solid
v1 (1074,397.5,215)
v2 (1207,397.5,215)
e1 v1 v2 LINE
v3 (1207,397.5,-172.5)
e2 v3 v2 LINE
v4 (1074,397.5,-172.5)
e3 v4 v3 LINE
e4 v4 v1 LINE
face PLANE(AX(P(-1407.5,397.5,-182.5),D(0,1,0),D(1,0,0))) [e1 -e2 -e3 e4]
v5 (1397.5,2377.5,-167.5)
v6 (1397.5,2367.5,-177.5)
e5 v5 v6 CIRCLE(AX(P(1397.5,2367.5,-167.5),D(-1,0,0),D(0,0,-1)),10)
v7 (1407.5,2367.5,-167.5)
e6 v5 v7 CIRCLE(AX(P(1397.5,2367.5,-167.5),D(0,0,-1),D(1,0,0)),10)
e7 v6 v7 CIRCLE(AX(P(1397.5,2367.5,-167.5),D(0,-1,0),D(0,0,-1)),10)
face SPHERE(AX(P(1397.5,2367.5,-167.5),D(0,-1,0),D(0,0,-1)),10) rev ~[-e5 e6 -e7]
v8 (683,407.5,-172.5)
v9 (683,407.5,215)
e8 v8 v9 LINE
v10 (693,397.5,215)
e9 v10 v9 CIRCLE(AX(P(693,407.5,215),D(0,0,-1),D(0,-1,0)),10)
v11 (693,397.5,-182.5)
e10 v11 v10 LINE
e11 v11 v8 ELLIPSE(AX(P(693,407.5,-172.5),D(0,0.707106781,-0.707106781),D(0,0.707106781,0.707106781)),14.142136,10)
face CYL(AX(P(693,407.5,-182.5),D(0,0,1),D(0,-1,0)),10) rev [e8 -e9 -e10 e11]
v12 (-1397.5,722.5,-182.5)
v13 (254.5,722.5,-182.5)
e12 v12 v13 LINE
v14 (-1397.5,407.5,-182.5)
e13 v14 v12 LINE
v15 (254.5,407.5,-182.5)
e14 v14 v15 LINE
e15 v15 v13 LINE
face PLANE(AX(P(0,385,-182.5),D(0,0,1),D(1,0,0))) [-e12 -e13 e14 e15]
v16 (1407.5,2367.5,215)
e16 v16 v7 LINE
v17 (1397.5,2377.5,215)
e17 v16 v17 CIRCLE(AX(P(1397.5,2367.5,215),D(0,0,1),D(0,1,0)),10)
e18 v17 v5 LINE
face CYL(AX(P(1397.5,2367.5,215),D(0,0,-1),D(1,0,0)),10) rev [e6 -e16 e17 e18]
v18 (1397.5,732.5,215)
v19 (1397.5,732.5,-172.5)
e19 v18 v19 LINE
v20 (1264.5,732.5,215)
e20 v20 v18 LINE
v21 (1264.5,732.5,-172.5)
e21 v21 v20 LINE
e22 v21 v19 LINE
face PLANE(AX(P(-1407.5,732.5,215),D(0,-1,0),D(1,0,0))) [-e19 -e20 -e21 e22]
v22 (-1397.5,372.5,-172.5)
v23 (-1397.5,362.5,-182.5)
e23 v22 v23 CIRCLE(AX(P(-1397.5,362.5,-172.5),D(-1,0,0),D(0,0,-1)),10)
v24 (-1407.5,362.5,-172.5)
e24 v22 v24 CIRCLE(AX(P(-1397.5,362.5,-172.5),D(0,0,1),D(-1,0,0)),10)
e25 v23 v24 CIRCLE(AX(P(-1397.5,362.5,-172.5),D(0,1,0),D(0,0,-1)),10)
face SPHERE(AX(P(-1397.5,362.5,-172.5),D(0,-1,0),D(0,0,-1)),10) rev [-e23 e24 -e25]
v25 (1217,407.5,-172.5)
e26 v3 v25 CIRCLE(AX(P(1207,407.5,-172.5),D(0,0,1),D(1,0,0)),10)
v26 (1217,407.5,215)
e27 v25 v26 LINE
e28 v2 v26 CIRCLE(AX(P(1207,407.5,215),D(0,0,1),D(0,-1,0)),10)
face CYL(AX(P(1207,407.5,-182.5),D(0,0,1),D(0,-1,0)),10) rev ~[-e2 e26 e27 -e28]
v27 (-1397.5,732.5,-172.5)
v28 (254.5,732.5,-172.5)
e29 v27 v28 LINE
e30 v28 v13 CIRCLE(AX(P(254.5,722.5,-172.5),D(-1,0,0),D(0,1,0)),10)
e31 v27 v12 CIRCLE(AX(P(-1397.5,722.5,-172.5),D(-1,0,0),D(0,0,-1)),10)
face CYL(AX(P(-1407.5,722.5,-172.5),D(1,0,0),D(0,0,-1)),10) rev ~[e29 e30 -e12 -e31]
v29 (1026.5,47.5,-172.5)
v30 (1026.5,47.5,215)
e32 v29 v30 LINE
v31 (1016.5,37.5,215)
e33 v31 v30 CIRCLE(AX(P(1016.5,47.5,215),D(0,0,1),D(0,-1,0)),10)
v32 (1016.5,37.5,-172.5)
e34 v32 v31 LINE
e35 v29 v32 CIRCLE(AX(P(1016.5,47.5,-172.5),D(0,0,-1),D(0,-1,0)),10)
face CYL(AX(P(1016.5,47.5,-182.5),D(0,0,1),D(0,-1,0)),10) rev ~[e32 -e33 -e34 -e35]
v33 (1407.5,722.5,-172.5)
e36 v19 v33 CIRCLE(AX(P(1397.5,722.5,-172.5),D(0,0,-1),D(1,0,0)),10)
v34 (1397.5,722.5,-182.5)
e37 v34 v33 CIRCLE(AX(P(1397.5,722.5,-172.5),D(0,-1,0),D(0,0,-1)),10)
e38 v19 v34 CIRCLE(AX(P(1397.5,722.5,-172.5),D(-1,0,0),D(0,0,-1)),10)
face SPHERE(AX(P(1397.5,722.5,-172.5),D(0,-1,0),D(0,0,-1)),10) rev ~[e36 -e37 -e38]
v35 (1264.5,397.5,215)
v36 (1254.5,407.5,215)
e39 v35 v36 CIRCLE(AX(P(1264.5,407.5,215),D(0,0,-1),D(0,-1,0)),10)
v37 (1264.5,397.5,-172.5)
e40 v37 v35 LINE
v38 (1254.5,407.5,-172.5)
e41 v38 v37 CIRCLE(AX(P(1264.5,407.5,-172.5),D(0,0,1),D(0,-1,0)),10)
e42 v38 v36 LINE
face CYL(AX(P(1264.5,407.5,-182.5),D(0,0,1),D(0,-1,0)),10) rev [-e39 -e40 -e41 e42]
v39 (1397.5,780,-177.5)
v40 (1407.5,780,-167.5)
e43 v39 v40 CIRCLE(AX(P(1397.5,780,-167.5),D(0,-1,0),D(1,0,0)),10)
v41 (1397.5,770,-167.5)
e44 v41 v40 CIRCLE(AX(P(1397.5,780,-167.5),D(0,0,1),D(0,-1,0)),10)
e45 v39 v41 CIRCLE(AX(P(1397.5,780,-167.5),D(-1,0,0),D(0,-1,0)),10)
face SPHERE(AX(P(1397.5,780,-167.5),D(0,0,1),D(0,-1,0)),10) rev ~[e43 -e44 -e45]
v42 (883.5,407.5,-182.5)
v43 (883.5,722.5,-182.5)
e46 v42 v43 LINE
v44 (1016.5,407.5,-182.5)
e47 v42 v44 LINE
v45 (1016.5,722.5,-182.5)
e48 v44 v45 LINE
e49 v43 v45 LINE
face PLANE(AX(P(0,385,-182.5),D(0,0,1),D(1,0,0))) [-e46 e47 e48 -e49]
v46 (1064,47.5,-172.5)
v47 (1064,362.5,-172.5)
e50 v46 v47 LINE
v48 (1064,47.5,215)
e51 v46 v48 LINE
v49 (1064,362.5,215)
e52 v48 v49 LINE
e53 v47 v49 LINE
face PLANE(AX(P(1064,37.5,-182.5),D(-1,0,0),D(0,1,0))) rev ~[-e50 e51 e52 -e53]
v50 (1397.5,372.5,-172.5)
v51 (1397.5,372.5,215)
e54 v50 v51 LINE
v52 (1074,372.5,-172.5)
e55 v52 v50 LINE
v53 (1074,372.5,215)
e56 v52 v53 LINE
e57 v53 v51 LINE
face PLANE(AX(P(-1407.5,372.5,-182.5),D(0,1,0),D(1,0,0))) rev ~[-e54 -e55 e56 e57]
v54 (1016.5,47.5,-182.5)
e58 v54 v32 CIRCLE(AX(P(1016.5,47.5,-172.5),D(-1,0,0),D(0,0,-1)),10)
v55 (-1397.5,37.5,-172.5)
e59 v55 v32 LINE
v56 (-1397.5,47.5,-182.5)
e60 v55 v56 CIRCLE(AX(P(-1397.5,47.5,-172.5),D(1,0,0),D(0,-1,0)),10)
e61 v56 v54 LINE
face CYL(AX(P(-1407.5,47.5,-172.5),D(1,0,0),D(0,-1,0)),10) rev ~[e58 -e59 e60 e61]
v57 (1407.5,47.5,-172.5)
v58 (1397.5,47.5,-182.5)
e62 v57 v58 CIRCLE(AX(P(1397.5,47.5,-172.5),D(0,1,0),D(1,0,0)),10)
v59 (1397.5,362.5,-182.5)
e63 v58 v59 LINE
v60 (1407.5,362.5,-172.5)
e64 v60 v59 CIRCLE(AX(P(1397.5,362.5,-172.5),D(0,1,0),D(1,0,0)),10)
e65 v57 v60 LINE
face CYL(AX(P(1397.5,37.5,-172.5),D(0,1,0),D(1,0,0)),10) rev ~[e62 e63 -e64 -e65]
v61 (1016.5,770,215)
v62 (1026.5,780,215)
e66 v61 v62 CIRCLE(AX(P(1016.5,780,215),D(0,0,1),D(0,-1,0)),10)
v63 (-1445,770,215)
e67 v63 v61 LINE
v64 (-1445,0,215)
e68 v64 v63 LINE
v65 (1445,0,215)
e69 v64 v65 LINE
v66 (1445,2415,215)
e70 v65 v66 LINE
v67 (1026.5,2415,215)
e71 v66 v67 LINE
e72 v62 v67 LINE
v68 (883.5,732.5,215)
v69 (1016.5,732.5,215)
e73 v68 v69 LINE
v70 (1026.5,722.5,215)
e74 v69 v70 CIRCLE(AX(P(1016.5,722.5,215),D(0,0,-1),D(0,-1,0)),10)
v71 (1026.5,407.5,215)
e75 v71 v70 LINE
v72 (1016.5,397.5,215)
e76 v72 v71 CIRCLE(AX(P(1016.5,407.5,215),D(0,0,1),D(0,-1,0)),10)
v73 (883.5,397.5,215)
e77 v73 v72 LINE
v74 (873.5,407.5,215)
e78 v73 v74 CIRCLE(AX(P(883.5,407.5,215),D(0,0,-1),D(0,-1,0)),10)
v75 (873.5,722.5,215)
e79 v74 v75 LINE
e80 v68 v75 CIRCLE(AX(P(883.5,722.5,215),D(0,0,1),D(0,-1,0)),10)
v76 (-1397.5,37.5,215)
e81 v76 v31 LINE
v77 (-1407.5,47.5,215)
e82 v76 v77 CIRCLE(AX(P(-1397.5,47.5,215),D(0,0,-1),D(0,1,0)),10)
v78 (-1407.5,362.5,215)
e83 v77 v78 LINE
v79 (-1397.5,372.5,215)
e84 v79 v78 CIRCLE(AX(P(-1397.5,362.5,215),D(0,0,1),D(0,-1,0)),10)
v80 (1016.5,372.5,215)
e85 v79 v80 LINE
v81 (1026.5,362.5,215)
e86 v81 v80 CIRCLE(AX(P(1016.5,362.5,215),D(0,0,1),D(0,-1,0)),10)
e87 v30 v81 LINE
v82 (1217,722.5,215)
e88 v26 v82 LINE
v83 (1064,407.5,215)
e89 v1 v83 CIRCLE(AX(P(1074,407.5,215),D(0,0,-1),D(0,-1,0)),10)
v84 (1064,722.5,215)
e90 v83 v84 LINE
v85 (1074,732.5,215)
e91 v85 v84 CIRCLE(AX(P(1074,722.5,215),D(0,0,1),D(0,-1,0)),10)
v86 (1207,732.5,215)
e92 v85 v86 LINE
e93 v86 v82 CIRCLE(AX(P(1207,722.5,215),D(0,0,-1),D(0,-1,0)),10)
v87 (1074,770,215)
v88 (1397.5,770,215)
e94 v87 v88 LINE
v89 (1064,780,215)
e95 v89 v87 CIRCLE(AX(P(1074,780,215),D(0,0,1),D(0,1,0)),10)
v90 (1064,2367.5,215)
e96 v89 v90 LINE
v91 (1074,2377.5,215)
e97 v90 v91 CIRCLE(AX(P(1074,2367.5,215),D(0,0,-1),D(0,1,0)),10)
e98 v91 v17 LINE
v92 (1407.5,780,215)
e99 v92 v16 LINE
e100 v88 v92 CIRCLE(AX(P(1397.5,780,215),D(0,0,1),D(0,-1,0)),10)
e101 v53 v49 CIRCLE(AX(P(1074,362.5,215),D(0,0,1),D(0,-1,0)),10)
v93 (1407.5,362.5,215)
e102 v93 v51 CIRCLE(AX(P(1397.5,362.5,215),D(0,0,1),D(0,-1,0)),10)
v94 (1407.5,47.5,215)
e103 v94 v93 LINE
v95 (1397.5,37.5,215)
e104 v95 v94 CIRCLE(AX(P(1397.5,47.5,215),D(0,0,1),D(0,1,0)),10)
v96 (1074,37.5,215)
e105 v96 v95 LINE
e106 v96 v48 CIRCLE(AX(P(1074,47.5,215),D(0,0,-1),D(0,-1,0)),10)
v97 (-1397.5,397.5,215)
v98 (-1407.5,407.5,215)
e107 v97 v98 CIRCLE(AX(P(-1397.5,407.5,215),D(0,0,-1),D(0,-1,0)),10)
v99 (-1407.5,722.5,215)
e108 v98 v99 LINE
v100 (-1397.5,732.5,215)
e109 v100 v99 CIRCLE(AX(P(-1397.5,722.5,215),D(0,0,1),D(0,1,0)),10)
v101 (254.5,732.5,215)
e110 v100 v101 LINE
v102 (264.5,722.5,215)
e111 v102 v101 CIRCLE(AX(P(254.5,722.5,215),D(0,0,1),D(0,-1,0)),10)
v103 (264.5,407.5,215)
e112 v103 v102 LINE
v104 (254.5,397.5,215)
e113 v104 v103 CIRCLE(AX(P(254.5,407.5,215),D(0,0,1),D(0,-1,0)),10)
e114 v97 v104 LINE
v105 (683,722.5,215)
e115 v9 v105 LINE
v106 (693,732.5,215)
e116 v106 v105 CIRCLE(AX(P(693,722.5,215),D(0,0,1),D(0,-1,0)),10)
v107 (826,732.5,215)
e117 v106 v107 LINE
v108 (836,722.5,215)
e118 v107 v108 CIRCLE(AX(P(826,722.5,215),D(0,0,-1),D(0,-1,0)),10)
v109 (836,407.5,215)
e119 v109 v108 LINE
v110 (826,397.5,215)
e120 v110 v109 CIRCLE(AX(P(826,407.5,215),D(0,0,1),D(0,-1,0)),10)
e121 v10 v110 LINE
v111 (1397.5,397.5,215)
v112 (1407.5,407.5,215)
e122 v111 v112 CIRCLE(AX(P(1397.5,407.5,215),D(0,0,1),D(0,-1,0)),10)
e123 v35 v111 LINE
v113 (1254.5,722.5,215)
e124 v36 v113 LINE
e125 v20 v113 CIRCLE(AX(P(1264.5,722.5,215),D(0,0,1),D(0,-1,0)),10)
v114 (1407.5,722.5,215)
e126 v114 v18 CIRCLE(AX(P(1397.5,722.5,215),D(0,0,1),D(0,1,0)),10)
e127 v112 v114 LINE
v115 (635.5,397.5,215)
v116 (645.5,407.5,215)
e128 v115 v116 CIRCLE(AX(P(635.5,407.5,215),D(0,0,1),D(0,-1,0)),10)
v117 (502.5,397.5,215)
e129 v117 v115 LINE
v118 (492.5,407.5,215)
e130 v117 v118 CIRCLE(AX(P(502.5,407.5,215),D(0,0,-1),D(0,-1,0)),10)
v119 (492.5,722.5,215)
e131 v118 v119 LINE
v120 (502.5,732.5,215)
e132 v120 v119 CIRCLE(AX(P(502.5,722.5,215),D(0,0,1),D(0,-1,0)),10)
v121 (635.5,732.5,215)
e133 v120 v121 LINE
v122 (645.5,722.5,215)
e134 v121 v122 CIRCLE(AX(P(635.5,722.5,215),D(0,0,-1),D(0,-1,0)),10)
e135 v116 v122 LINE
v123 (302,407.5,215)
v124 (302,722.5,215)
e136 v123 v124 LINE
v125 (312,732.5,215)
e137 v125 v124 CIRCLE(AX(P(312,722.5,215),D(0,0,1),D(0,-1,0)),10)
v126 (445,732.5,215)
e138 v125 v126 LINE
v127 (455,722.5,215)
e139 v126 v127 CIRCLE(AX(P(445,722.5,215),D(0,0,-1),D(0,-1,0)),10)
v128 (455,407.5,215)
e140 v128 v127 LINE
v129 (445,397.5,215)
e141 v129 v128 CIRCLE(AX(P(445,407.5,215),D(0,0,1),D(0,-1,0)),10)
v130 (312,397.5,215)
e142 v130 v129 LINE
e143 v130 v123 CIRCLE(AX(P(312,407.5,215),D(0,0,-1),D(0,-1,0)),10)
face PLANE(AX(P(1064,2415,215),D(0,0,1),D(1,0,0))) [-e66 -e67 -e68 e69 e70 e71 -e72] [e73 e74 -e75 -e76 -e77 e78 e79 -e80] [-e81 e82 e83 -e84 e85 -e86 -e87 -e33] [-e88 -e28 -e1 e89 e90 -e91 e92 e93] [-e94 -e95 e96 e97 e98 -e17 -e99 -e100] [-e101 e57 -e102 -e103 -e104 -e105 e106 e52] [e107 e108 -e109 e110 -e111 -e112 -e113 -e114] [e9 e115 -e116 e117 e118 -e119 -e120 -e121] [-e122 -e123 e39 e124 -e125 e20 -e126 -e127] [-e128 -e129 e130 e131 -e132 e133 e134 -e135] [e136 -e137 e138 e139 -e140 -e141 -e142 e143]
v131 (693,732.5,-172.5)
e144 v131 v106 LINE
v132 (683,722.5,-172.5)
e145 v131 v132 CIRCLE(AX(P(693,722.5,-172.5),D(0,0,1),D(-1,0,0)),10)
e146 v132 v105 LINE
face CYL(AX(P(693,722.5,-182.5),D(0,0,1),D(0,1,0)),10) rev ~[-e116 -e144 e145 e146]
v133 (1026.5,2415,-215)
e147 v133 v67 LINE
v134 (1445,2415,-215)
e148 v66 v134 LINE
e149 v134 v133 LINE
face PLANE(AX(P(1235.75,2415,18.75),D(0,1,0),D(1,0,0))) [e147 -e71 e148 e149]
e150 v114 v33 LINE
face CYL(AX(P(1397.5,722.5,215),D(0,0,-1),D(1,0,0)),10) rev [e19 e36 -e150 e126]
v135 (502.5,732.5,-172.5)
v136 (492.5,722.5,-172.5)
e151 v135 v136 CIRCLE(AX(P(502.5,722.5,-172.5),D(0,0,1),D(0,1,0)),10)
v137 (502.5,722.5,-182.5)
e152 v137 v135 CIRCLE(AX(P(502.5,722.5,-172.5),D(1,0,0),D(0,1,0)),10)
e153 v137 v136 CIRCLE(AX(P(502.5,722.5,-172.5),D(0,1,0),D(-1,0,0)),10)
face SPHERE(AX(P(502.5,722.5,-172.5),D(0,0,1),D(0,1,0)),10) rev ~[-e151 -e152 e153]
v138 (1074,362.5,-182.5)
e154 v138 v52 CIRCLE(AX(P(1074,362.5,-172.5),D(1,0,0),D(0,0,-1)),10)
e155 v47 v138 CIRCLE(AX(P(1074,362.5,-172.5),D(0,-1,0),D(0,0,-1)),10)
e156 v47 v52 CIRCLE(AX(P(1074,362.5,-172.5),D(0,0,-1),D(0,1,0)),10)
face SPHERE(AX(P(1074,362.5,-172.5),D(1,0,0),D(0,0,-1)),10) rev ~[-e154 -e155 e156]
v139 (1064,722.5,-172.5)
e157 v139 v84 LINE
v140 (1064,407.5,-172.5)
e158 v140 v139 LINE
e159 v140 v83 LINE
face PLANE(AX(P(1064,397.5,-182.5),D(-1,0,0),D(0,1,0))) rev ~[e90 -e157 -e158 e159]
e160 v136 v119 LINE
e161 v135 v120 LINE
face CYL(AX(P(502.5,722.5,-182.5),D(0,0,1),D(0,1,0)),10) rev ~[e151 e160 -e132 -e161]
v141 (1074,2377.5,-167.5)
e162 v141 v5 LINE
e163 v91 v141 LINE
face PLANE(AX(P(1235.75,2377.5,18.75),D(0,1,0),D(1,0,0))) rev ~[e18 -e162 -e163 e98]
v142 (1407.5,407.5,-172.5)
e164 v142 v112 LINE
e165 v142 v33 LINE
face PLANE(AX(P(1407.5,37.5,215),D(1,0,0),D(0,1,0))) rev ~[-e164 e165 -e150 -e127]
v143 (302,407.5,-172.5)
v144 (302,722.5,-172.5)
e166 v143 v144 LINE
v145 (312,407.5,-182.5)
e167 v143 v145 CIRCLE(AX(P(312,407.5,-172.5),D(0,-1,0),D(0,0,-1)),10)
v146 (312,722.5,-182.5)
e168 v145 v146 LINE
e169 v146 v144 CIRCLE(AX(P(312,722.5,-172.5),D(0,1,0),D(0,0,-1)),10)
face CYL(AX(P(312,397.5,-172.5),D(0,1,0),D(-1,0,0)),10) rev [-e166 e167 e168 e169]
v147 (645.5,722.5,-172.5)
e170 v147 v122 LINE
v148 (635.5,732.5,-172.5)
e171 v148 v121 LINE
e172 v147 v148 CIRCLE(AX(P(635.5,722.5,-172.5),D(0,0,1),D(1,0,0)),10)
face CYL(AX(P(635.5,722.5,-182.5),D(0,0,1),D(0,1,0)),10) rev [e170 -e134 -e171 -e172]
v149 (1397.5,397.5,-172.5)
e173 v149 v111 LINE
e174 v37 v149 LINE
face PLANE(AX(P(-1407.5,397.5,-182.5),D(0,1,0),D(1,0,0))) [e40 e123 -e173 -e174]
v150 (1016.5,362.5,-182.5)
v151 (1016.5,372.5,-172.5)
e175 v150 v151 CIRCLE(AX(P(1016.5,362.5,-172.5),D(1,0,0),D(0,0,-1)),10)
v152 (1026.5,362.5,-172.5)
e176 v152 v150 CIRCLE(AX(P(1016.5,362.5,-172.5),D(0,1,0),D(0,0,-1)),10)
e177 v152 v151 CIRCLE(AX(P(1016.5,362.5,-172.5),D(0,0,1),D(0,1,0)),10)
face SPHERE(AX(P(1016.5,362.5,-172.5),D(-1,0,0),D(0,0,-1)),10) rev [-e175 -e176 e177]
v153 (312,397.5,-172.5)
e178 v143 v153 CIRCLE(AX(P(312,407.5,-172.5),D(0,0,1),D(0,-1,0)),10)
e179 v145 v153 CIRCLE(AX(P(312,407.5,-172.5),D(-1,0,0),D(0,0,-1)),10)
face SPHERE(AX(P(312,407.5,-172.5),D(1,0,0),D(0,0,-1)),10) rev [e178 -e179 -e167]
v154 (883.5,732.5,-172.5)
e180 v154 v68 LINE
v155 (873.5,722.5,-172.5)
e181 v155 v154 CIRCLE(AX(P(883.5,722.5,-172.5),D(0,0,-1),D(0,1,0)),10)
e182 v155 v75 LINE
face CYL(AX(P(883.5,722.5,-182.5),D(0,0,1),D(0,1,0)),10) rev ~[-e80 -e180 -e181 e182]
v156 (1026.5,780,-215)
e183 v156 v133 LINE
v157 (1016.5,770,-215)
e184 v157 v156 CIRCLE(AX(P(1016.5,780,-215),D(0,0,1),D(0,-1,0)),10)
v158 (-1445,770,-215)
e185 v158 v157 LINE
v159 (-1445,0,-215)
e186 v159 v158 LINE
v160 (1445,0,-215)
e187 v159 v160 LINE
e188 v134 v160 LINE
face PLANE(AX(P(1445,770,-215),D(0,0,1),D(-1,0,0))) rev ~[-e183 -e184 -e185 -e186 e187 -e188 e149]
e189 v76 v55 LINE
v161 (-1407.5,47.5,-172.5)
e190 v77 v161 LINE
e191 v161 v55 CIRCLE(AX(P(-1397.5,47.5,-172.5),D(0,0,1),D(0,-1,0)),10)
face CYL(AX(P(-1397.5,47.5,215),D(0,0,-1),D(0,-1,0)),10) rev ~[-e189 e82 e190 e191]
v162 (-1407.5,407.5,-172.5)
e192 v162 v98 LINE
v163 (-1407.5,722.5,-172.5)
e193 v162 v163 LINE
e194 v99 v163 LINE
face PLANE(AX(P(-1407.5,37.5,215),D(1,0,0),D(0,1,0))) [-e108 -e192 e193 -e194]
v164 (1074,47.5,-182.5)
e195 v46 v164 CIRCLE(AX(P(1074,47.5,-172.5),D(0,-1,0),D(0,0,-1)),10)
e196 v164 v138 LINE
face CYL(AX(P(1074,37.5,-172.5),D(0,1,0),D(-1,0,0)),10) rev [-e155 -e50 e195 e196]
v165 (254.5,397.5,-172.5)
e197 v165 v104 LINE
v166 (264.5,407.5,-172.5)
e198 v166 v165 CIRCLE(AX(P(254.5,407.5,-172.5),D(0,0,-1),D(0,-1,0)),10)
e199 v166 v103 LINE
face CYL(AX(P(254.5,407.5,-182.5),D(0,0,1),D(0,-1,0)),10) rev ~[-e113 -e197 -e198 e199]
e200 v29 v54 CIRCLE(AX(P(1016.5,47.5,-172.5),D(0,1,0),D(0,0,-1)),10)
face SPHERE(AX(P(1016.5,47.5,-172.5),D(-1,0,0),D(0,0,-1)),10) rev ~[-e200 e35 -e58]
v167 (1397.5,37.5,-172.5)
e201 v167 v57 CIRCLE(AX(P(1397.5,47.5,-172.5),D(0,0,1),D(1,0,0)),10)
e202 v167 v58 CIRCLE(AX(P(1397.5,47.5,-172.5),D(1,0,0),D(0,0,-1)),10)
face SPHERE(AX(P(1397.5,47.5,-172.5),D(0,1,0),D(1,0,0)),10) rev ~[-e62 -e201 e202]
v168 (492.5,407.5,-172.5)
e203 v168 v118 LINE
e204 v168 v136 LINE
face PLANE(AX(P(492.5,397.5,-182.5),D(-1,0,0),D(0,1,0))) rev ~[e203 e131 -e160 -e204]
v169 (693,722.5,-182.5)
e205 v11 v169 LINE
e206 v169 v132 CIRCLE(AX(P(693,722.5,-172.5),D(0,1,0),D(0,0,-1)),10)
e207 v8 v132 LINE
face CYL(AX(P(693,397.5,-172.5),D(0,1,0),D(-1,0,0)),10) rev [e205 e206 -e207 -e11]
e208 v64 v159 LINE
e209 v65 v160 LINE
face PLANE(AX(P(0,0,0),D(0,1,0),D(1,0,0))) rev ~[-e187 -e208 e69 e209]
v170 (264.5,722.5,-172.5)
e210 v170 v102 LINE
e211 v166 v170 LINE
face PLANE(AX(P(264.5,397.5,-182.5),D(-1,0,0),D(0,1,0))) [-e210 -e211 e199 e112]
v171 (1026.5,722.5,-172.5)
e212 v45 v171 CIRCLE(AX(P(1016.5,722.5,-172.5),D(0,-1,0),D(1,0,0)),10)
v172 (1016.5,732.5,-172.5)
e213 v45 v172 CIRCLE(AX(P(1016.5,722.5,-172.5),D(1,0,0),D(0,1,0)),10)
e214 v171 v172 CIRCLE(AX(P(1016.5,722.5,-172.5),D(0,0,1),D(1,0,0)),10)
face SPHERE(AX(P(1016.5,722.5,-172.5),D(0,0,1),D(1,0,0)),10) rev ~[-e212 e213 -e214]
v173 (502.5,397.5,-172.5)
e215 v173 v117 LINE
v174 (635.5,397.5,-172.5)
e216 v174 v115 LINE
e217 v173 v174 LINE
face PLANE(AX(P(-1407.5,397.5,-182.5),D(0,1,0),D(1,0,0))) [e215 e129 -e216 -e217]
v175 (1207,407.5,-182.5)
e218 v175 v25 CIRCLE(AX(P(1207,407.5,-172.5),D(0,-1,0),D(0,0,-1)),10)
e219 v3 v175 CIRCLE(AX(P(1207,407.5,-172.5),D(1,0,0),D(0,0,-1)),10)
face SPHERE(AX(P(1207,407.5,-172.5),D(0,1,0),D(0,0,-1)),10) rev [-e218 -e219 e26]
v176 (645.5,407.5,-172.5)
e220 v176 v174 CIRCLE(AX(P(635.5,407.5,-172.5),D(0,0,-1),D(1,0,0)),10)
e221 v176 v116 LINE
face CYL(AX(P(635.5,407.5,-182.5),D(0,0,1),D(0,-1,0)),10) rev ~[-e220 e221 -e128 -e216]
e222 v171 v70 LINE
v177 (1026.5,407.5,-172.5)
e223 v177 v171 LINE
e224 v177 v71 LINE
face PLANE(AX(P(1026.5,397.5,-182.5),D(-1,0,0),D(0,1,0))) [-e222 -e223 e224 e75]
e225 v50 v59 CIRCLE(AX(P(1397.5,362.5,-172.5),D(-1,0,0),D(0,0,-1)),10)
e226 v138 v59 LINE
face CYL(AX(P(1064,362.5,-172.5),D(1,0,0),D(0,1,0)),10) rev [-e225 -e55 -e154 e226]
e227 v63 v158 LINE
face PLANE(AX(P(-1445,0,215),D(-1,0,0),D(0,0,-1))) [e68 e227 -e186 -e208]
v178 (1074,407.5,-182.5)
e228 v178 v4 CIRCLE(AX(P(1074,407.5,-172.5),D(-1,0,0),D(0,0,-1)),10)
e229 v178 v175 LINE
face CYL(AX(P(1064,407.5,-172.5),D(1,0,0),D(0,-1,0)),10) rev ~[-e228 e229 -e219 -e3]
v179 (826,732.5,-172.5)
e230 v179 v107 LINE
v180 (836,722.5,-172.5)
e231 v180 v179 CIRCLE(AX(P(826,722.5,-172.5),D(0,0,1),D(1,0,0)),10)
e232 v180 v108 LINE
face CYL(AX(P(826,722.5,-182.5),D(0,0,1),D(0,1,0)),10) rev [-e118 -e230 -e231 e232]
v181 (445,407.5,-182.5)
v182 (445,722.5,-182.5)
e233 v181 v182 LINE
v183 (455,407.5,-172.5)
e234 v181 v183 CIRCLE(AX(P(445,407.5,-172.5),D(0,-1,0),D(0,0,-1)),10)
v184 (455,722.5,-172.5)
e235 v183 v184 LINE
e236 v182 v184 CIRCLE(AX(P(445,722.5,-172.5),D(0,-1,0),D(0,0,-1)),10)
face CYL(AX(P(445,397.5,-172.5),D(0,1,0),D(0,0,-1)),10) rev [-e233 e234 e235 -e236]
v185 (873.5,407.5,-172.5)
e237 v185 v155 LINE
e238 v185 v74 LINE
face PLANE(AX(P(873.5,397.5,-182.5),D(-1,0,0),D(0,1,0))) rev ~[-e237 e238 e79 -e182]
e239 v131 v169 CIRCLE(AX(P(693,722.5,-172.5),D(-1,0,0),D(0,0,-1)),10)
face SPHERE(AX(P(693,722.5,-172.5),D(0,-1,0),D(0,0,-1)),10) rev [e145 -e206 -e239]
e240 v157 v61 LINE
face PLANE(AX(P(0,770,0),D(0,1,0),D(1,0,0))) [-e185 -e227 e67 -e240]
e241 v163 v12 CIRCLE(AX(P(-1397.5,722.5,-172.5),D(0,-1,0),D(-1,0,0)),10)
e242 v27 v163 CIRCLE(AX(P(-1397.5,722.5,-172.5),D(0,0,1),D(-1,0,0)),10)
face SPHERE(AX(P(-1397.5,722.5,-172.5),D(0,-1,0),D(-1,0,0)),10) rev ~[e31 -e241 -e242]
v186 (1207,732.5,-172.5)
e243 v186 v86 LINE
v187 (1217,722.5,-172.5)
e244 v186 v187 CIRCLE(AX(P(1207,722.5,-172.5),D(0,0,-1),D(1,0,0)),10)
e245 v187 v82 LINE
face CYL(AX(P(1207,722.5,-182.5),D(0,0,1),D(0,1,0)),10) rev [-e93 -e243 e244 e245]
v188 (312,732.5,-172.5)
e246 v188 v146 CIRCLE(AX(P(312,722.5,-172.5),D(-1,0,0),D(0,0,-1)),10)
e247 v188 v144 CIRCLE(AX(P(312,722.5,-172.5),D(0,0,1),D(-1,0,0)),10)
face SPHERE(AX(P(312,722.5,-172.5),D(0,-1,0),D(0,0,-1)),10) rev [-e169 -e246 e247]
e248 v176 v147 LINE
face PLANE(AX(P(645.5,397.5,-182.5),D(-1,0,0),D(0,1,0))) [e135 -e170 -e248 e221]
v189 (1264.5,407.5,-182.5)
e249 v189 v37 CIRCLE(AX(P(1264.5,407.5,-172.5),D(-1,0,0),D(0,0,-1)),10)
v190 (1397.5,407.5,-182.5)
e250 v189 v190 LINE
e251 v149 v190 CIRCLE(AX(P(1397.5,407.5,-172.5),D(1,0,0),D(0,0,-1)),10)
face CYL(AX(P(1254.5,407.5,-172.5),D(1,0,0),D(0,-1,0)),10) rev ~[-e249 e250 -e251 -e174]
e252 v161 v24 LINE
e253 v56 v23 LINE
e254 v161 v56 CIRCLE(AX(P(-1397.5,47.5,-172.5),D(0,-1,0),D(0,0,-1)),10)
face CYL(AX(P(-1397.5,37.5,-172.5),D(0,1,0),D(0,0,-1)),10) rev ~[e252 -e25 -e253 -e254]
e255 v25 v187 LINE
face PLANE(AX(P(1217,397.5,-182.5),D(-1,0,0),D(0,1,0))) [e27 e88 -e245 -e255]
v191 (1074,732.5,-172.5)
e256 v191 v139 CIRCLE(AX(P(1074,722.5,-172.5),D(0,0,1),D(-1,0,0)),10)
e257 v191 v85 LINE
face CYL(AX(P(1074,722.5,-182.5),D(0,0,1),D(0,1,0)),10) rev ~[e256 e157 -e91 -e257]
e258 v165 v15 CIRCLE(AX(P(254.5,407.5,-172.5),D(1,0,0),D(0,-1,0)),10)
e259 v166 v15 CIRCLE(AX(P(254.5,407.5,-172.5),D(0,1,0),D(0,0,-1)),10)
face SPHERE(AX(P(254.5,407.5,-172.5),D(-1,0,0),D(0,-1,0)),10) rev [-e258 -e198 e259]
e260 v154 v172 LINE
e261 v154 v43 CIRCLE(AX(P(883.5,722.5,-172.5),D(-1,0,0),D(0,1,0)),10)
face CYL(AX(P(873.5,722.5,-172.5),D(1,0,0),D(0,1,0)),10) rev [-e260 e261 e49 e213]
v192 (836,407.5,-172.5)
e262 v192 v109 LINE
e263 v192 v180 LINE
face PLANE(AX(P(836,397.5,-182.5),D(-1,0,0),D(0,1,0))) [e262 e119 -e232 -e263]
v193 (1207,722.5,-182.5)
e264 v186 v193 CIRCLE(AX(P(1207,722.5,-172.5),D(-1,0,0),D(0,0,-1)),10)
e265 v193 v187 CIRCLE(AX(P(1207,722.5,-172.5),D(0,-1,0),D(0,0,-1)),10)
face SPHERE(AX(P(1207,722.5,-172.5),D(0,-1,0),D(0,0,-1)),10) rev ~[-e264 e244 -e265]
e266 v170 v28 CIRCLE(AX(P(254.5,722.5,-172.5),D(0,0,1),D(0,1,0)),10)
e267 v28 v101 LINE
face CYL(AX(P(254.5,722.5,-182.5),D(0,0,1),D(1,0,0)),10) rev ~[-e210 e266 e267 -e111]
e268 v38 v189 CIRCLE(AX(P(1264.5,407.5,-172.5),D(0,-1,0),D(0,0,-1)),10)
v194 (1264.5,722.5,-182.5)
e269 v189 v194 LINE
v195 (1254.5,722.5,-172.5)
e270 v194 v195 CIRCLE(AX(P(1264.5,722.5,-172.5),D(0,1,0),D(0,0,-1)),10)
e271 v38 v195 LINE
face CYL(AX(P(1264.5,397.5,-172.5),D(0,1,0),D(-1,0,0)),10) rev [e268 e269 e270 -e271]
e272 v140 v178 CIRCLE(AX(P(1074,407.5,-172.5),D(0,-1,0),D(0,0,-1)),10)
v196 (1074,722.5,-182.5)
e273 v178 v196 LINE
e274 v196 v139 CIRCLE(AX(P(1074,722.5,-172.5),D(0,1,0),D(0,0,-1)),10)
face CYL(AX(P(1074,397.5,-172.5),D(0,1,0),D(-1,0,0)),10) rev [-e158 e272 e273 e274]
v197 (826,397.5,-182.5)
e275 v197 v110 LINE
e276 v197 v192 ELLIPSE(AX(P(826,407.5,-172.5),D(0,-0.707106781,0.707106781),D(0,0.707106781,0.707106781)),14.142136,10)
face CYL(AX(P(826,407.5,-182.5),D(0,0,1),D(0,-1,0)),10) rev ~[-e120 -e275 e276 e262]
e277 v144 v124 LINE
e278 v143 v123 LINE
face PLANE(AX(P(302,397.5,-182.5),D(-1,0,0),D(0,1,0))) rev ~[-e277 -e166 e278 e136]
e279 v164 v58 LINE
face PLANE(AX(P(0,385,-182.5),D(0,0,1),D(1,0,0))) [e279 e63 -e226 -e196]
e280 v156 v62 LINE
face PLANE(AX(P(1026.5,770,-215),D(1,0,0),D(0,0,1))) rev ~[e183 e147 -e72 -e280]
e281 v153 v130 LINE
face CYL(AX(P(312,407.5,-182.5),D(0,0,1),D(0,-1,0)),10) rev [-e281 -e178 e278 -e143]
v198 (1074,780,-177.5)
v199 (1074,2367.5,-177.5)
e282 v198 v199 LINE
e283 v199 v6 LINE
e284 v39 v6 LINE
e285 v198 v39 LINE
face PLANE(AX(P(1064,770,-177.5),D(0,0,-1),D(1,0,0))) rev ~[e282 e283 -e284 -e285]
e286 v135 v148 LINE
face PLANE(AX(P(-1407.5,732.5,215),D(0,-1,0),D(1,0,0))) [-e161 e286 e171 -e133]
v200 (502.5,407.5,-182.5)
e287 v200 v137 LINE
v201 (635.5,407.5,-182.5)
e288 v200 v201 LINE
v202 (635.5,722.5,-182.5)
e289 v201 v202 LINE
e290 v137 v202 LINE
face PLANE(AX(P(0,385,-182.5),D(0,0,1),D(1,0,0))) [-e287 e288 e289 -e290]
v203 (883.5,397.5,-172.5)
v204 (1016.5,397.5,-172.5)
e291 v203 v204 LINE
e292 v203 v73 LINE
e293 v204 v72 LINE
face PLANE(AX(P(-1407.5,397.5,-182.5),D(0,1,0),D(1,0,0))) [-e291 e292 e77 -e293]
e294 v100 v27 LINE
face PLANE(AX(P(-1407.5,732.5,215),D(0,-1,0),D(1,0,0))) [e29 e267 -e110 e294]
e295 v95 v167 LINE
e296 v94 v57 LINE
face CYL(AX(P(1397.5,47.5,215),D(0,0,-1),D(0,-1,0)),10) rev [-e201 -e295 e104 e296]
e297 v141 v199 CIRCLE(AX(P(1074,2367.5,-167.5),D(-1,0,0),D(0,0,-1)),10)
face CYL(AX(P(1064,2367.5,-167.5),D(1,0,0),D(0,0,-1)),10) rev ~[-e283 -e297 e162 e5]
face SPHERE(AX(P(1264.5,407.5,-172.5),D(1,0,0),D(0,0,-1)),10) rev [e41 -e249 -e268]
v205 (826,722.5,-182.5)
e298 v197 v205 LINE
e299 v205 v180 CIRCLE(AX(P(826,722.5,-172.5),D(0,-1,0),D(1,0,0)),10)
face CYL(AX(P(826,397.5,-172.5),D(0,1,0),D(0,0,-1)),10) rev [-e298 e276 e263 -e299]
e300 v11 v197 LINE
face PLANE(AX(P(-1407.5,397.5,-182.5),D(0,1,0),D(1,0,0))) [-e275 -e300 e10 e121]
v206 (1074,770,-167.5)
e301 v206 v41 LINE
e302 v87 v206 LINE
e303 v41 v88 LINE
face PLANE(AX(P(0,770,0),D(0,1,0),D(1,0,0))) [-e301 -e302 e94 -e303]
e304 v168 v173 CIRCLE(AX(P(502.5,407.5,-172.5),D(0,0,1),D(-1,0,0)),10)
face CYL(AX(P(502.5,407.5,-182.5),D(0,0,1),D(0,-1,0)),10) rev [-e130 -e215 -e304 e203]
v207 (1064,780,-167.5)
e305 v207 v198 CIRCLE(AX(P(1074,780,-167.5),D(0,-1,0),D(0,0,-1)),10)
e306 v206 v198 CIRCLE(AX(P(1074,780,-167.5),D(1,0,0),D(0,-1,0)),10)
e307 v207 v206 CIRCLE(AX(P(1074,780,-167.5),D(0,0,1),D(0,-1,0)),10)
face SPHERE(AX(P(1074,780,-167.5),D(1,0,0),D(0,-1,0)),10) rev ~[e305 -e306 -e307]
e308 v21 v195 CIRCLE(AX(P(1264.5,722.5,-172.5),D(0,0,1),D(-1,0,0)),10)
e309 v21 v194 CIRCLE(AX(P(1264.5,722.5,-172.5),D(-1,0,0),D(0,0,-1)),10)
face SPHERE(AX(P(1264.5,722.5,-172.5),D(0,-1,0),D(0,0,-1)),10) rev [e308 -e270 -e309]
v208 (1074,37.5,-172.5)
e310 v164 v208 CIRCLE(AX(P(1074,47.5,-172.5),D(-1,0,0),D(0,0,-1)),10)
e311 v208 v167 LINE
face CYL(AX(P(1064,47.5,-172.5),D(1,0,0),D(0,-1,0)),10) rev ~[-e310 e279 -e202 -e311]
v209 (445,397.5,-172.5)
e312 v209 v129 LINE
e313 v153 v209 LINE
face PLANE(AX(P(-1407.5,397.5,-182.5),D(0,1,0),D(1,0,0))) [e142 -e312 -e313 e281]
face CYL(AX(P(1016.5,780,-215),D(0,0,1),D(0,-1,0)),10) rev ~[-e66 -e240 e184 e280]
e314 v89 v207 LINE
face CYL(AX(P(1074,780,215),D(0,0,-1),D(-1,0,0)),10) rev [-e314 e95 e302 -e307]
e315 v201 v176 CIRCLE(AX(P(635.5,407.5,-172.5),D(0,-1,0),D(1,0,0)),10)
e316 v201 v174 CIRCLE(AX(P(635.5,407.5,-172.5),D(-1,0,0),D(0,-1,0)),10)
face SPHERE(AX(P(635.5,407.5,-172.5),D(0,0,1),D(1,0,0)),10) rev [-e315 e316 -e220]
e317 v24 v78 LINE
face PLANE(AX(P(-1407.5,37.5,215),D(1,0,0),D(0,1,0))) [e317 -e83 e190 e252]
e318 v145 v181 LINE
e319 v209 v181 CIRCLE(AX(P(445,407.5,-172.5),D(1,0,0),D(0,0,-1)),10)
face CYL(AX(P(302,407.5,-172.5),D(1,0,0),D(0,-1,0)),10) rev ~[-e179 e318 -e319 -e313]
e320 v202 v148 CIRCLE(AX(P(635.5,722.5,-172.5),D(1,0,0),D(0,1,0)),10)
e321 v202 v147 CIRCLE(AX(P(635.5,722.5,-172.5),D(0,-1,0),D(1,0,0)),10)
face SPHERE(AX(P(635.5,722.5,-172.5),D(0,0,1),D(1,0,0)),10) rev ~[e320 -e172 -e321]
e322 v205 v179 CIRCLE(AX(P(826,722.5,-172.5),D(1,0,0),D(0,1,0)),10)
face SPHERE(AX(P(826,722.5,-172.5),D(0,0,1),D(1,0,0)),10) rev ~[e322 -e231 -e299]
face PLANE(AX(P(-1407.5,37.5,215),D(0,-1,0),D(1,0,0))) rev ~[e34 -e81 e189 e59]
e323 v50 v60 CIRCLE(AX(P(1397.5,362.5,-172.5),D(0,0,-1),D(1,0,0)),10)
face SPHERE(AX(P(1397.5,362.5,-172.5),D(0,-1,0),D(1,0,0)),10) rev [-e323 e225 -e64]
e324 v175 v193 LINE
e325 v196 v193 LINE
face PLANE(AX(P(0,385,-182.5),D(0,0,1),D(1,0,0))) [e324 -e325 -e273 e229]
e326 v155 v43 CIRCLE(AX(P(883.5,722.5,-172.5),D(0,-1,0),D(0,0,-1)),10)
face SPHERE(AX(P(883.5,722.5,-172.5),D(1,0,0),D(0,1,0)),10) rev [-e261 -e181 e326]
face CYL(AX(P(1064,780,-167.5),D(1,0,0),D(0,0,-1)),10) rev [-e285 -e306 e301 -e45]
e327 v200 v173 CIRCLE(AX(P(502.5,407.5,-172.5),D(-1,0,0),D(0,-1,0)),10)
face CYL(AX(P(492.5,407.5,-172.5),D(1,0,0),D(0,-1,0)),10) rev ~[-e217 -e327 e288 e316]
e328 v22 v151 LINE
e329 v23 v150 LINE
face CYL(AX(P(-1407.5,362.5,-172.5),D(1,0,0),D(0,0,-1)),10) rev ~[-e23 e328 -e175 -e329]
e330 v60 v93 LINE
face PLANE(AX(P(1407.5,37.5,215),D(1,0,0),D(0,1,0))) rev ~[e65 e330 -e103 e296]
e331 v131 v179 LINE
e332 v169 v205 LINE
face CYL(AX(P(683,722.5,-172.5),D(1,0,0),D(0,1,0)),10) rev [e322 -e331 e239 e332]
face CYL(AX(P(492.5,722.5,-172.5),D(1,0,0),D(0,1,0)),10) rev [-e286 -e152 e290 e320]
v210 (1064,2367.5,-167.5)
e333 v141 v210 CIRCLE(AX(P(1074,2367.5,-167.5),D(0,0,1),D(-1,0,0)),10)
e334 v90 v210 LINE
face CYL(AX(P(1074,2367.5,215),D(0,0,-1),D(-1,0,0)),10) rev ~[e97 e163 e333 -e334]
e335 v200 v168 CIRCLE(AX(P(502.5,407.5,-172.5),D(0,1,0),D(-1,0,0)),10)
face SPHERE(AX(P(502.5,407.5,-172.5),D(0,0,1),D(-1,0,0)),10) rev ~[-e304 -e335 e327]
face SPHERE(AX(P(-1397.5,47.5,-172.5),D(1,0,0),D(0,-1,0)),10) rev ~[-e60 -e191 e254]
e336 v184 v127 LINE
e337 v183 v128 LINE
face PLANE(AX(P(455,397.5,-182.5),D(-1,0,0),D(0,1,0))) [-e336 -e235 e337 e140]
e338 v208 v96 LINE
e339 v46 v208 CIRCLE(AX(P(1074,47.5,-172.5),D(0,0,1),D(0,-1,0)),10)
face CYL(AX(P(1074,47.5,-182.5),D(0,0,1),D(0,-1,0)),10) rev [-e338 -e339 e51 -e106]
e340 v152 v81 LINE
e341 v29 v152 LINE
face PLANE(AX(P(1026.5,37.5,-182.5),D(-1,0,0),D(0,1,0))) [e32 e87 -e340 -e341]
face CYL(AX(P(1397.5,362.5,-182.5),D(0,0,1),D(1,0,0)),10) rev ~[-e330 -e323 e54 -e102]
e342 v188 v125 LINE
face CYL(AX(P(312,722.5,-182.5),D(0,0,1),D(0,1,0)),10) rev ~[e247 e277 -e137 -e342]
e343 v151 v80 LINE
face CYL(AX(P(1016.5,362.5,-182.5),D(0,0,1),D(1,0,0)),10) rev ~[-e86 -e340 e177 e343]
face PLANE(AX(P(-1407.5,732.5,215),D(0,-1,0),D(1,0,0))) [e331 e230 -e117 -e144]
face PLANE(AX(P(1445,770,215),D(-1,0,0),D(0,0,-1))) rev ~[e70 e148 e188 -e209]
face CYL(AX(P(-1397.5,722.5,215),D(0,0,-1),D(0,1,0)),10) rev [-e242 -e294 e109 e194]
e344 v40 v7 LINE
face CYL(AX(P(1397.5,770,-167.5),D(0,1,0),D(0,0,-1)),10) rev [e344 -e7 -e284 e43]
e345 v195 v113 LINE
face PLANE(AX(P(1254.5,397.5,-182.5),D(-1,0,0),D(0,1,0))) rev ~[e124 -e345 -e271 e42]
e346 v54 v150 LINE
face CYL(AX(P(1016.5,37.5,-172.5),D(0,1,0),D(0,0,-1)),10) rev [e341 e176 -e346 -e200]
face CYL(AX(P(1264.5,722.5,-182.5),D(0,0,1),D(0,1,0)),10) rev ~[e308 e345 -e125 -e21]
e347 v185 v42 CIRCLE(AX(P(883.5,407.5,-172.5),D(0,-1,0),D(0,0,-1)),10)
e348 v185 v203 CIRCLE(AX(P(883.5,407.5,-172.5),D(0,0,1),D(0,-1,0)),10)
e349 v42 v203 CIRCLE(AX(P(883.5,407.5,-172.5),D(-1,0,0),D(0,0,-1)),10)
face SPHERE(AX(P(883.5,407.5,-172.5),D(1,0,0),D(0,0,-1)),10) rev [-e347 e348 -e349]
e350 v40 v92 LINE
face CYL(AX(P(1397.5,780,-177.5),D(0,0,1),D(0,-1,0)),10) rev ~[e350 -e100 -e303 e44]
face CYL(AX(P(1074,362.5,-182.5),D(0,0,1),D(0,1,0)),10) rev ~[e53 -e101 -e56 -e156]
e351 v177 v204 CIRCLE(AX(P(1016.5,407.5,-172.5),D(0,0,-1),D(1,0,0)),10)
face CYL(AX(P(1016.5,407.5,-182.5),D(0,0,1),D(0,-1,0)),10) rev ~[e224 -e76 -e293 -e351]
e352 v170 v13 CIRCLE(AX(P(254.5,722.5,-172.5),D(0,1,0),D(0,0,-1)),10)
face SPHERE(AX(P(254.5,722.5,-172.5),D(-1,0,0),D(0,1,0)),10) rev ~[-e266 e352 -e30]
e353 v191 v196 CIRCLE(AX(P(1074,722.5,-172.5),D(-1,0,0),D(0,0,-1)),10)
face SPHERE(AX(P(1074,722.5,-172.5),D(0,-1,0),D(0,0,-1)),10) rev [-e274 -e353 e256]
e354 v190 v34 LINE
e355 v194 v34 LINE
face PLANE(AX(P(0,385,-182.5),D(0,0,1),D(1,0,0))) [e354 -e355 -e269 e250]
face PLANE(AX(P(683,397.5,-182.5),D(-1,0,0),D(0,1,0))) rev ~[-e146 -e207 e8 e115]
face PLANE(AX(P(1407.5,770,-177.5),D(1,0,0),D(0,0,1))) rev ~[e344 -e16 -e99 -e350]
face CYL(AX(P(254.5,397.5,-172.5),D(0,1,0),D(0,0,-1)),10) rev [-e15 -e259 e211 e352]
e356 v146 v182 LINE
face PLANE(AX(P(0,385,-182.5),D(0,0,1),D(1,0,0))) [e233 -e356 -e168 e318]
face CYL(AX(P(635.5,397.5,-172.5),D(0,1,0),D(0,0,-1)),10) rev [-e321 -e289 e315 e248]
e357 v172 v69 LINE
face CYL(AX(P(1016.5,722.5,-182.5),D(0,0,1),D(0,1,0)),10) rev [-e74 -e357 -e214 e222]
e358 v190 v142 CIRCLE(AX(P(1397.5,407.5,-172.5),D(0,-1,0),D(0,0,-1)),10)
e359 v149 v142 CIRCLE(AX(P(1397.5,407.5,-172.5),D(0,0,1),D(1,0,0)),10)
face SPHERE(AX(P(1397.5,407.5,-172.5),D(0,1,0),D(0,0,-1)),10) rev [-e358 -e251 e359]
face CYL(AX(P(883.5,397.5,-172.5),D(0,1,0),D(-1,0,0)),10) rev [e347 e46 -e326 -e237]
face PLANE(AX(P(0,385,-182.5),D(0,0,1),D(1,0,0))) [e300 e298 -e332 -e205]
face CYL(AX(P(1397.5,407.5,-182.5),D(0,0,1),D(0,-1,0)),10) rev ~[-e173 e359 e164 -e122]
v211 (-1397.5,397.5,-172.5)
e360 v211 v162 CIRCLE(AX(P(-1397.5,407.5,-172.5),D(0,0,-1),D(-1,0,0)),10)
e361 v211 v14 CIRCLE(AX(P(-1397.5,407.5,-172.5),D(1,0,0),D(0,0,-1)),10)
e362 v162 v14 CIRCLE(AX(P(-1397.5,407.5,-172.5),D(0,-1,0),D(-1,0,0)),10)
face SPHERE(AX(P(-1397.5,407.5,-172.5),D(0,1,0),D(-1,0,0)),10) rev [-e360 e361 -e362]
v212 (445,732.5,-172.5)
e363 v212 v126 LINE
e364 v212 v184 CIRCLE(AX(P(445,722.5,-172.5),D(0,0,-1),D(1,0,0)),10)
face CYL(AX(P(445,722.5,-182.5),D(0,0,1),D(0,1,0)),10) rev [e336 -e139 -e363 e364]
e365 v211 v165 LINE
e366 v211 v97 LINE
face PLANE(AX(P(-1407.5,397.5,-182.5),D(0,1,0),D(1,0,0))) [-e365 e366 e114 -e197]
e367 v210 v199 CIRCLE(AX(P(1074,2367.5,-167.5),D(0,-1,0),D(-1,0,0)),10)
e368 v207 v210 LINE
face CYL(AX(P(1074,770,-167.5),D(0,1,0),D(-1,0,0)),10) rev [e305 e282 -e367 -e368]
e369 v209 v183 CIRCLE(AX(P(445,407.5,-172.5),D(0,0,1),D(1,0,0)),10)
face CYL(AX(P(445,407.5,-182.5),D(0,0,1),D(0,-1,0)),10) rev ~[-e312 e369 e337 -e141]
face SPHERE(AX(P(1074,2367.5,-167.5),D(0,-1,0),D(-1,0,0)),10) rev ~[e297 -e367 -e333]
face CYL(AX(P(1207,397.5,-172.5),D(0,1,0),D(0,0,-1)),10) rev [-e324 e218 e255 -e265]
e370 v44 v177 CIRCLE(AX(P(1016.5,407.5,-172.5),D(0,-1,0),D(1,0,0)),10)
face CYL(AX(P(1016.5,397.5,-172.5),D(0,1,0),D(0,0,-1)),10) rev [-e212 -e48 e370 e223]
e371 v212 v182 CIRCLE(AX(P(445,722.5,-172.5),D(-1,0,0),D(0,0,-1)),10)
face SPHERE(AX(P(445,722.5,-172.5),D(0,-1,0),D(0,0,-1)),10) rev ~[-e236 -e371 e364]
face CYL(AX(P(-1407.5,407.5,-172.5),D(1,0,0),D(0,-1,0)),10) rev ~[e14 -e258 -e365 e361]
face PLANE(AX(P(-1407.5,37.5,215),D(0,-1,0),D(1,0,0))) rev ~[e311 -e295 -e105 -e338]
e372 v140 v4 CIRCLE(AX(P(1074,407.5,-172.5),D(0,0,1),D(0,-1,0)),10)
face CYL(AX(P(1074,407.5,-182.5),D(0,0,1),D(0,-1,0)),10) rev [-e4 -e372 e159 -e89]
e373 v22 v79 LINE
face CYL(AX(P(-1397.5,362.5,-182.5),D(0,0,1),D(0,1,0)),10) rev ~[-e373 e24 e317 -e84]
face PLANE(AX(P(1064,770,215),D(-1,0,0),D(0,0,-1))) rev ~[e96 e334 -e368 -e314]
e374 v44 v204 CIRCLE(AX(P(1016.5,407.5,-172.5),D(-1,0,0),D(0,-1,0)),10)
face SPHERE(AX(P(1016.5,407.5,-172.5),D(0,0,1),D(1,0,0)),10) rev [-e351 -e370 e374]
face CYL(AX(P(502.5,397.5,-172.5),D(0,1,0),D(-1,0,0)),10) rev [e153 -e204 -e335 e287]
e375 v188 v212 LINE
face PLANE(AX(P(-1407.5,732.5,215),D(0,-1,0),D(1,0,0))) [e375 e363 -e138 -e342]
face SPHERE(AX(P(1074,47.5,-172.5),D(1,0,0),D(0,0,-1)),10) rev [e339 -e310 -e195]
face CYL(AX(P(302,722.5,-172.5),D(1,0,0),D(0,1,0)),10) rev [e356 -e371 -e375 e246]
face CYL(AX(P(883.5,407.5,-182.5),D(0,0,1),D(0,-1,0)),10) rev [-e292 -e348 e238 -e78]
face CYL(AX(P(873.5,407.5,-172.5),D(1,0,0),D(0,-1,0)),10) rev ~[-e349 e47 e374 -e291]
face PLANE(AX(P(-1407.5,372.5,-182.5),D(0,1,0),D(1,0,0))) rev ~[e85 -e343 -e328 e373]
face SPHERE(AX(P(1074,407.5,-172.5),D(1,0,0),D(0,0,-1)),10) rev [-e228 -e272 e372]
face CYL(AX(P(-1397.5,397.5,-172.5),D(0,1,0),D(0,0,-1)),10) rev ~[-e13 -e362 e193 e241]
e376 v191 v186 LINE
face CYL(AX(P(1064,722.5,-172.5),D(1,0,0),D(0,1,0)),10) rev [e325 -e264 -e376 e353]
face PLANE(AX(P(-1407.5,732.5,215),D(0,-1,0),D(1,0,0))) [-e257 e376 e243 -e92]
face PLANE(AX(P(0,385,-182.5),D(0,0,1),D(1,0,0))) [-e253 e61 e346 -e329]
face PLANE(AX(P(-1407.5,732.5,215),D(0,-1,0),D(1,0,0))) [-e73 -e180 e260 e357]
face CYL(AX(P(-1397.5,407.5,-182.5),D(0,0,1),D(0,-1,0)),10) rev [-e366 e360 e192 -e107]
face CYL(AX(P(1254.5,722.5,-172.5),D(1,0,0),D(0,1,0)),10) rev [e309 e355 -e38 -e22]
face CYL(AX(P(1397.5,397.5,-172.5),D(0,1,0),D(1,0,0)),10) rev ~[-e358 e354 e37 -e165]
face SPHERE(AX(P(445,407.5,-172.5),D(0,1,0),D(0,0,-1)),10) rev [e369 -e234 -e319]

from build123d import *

# Parameters (mm, degrees)
SKETCH1_W           = 2890
SKETCH1_H           = 430
BOSS_EXTRUDE1_DEPTH = 770
SKETCH2_W           = 2815
SKETCH2_H           = 695
CUT_EXTRUDE1_DEPTH  = 397.5
SKETCH3_W           = 2815
SKETCH3_H           = 25
BOSS_EXTRUDE2_DEPTH = 397.5
SKETCH5_W           = 37.5
SKETCH5_H           = 335
BOSS_EXTRUDE3_DEPTH = 397.5
FILLET2_R           = 10
SKETCH7_W           = 37.5
SKETCH7_H           = 335
BOSS_EXTRUDE4_DEPTH = 397.5
FILLET3_R           = 10
BOSS_EXTRUDE5_DEPTH = 1645
SKETCH10_W          = 343.5
SKETCH10_H          = 392.5
BOSS_EXTRUDE6_DEPTH = 37.5
FILLET4_R           = 10


with BuildPart() as part:
    # Sketch1 → Boss-Extrude1 (new body)
    with BuildSketch(Plane(origin=(0, 0, 0), x_dir=(1, 0, 0), z_dir=(0, 1, 0))):
        Rectangle(SKETCH1_W, SKETCH1_H)
    extrude(amount=BOSS_EXTRUDE1_DEPTH)

    # Sketch2 → Cut-Extrude1 (cut)
    with BuildSketch(Plane.XY.offset(215)):
        with Locations((0, 385)):
            Rectangle(SKETCH2_W, SKETCH2_H)
    extrude(amount=-CUT_EXTRUDE1_DEPTH, mode=Mode.SUBTRACT)

    # Sketch3 → Boss-Extrude2 (add)
    with BuildSketch(Plane.XY.offset(-182.5)):
        with Locations((0, 385)):
            Rectangle(SKETCH3_W, SKETCH3_H)
    extrude(amount=BOSS_EXTRUDE2_DEPTH)

    # Sketch5 → Boss-Extrude3 (add)
    with BuildSketch(Plane.XY.offset(-182.5)):
        with Locations((283.25, 565)):
            Rectangle(SKETCH5_W, SKETCH5_H)
        with Locations((473.75, 565)):
            Rectangle(SKETCH5_W, SKETCH5_H)
        with Locations((664.25, 565)):
            Rectangle(SKETCH5_W, SKETCH5_H)
        with Locations((854.75, 565)):
            Rectangle(SKETCH5_W, SKETCH5_H)
        with Locations((1045.25, 565)):
            Rectangle(SKETCH5_W, SKETCH5_H)
        with Locations((1235.75, 565)):
            Rectangle(SKETCH5_W, SKETCH5_H)
    extrude(amount=BOSS_EXTRUDE3_DEPTH)

    # Fillet2
    fillet2_edges = [part.edges().sort_by_distance(p)[0] for p in [
        (1407.5, 565, -182.5),
        (1331, 397.5, -182.5),
        (1254.5, 565, -182.5),
        (1331, 732.5, -182.5),
        (1217, 565, -182.5),
        (1140.5, 397.5, -182.5),
        (1064, 565, -182.5),
        (1140.5, 732.5, -182.5),
        (1407.5, 732.5, 16.25),
        (1254.5, 732.5, 16.25),
        (1254.5, 397.5, 16.25),
        (1407.5, 397.5, 16.25),
        (1217, 397.5, 16.25),
        (1064, 397.5, 16.25),
        (1064, 732.5, 16.25),
        (1217, 732.5, 16.25),
        (1026.5, 732.5, 16.25),
        (1026.5, 397.5, 16.25),
        (1026.5, 565, -182.5),
        (950, 732.5, -182.5),
        (873.5, 732.5, 16.25),
        (950, 397.5, -182.5),
        (873.5, 565, -182.5),
        (873.5, 397.5, 16.25),
        (683, 397.5, 16.25),
        (836, 397.5, 16.25),
        (836, 732.5, 16.25),
        (836, 565, -182.5),
        (683, 565, -182.5),
        (759.5, 732.5, -182.5),
        (683, 732.5, 16.25),
        (645.5, 732.5, 16.25),
        (492.5, 732.5, 16.25),
        (492.5, 397.5, 16.25),
        (645.5, 397.5, 16.25),
        (645.5, 565, -182.5),
        (569, 732.5, -182.5),
        (492.5, 565, -182.5),
        (569, 397.5, -182.5),
        (455, 565, -182.5),
        (378.5, 397.5, -182.5),
        (302, 565, -182.5),
        (378.5, 732.5, -182.5),
        (302, 397.5, 16.25),
        (455, 397.5, 16.25),
        (455, 732.5, 16.25),
        (302, 732.5, 16.25),
    ]]
    fillet(fillet2_edges, radius=FILLET2_R)

    # Sketch7 → Boss-Extrude4 (add)
    with BuildSketch(Plane.XY.offset(-182.5)):
        with Locations((1045.25, 205)):
            Rectangle(SKETCH7_W, SKETCH7_H)
    extrude(amount=BOSS_EXTRUDE4_DEPTH)

    # Fillet3
    fillet3_edges = [part.edges().sort_by_distance(p)[0] for p in [
        (1407.5, 205, -182.5),
        (1407.5, 37.5, 16.25),
        (1407.5, 372.5, 16.25),
        (1235.75, 372.5, -182.5),
        (1235.75, 37.5, -182.5),
        (1064, 205, -182.5),
        (1064, 37.5, 16.25),
        (1064, 372.5, 16.25),
    ]]
    fillet(fillet3_edges, radius=FILLET3_R)

    # Sketch9 → Boss-Extrude5 (add)
    with BuildSketch(Plane(origin=(0, 770, 0), x_dir=(1, 0, 0), z_dir=(0, 1, 0))):
        Polygon((1407.5, 215), (1026.5, 215), (1026.5, -215), (1064, -215), (1064, -177.5), (1064, 177.5), (1407.5, 177.5), (1407.5, -177.5), (1407.5, -215), (1445, -215), (1445, 215), align=None)
    extrude(amount=BOSS_EXTRUDE5_DEPTH)

    # Sketch10 → Boss-Extrude6 (add)
    with BuildSketch(Plane(origin=(0, 2415, 0), x_dir=(1, 0, 0), z_dir=(0, 1, 0))):
        with Locations((1235.75, -18.75)):
            Rectangle(SKETCH10_W, SKETCH10_H)
    extrude(amount=-BOSS_EXTRUDE6_DEPTH)

    # Fillet4
    fillet4_edges = [part.edges().sort_by_distance(p)[0] for p in [
        (-190.5, 37.5, -182.5),
        (-1407.5, 565, -182.5),
        (-1407.5, 37.5, 16.25),
        (-1407.5, 732.5, 16.25),
        (-1407.5, 205, -182.5),
        (-1407.5, 397.5, 16.25),
        (-190.5, 372.5, -182.5),
        (-1407.5, 372.5, 16.25),
        (1026.5, 205, -182.5),
        (1026.5, 372.5, 16.25),
        (1026.5, 37.5, 16.25),
        (1407.5, 770, 18.75),
        (1026.5, 770, 0),
        (1235.75, 770, -177.5),
        (1064, 770, 18.75),
        (1407.5, 1573.75, -177.5),
        (1064, 1573.75, -177.5),
        (1064, 2377.5, 18.75),
        (1235.75, 2377.5, -177.5),
        (1407.5, 2377.5, 18.75),
        (-571.5, 397.5, -182.5),
        (-571.5, 732.5, -182.5),
        (264.5, 732.5, 16.25),
        (264.5, 397.5, 16.25),
        (264.5, 565, -182.5),
    ]]
    fillet(fillet4_edges, radius=FILLET4_R)


solid = part.part
